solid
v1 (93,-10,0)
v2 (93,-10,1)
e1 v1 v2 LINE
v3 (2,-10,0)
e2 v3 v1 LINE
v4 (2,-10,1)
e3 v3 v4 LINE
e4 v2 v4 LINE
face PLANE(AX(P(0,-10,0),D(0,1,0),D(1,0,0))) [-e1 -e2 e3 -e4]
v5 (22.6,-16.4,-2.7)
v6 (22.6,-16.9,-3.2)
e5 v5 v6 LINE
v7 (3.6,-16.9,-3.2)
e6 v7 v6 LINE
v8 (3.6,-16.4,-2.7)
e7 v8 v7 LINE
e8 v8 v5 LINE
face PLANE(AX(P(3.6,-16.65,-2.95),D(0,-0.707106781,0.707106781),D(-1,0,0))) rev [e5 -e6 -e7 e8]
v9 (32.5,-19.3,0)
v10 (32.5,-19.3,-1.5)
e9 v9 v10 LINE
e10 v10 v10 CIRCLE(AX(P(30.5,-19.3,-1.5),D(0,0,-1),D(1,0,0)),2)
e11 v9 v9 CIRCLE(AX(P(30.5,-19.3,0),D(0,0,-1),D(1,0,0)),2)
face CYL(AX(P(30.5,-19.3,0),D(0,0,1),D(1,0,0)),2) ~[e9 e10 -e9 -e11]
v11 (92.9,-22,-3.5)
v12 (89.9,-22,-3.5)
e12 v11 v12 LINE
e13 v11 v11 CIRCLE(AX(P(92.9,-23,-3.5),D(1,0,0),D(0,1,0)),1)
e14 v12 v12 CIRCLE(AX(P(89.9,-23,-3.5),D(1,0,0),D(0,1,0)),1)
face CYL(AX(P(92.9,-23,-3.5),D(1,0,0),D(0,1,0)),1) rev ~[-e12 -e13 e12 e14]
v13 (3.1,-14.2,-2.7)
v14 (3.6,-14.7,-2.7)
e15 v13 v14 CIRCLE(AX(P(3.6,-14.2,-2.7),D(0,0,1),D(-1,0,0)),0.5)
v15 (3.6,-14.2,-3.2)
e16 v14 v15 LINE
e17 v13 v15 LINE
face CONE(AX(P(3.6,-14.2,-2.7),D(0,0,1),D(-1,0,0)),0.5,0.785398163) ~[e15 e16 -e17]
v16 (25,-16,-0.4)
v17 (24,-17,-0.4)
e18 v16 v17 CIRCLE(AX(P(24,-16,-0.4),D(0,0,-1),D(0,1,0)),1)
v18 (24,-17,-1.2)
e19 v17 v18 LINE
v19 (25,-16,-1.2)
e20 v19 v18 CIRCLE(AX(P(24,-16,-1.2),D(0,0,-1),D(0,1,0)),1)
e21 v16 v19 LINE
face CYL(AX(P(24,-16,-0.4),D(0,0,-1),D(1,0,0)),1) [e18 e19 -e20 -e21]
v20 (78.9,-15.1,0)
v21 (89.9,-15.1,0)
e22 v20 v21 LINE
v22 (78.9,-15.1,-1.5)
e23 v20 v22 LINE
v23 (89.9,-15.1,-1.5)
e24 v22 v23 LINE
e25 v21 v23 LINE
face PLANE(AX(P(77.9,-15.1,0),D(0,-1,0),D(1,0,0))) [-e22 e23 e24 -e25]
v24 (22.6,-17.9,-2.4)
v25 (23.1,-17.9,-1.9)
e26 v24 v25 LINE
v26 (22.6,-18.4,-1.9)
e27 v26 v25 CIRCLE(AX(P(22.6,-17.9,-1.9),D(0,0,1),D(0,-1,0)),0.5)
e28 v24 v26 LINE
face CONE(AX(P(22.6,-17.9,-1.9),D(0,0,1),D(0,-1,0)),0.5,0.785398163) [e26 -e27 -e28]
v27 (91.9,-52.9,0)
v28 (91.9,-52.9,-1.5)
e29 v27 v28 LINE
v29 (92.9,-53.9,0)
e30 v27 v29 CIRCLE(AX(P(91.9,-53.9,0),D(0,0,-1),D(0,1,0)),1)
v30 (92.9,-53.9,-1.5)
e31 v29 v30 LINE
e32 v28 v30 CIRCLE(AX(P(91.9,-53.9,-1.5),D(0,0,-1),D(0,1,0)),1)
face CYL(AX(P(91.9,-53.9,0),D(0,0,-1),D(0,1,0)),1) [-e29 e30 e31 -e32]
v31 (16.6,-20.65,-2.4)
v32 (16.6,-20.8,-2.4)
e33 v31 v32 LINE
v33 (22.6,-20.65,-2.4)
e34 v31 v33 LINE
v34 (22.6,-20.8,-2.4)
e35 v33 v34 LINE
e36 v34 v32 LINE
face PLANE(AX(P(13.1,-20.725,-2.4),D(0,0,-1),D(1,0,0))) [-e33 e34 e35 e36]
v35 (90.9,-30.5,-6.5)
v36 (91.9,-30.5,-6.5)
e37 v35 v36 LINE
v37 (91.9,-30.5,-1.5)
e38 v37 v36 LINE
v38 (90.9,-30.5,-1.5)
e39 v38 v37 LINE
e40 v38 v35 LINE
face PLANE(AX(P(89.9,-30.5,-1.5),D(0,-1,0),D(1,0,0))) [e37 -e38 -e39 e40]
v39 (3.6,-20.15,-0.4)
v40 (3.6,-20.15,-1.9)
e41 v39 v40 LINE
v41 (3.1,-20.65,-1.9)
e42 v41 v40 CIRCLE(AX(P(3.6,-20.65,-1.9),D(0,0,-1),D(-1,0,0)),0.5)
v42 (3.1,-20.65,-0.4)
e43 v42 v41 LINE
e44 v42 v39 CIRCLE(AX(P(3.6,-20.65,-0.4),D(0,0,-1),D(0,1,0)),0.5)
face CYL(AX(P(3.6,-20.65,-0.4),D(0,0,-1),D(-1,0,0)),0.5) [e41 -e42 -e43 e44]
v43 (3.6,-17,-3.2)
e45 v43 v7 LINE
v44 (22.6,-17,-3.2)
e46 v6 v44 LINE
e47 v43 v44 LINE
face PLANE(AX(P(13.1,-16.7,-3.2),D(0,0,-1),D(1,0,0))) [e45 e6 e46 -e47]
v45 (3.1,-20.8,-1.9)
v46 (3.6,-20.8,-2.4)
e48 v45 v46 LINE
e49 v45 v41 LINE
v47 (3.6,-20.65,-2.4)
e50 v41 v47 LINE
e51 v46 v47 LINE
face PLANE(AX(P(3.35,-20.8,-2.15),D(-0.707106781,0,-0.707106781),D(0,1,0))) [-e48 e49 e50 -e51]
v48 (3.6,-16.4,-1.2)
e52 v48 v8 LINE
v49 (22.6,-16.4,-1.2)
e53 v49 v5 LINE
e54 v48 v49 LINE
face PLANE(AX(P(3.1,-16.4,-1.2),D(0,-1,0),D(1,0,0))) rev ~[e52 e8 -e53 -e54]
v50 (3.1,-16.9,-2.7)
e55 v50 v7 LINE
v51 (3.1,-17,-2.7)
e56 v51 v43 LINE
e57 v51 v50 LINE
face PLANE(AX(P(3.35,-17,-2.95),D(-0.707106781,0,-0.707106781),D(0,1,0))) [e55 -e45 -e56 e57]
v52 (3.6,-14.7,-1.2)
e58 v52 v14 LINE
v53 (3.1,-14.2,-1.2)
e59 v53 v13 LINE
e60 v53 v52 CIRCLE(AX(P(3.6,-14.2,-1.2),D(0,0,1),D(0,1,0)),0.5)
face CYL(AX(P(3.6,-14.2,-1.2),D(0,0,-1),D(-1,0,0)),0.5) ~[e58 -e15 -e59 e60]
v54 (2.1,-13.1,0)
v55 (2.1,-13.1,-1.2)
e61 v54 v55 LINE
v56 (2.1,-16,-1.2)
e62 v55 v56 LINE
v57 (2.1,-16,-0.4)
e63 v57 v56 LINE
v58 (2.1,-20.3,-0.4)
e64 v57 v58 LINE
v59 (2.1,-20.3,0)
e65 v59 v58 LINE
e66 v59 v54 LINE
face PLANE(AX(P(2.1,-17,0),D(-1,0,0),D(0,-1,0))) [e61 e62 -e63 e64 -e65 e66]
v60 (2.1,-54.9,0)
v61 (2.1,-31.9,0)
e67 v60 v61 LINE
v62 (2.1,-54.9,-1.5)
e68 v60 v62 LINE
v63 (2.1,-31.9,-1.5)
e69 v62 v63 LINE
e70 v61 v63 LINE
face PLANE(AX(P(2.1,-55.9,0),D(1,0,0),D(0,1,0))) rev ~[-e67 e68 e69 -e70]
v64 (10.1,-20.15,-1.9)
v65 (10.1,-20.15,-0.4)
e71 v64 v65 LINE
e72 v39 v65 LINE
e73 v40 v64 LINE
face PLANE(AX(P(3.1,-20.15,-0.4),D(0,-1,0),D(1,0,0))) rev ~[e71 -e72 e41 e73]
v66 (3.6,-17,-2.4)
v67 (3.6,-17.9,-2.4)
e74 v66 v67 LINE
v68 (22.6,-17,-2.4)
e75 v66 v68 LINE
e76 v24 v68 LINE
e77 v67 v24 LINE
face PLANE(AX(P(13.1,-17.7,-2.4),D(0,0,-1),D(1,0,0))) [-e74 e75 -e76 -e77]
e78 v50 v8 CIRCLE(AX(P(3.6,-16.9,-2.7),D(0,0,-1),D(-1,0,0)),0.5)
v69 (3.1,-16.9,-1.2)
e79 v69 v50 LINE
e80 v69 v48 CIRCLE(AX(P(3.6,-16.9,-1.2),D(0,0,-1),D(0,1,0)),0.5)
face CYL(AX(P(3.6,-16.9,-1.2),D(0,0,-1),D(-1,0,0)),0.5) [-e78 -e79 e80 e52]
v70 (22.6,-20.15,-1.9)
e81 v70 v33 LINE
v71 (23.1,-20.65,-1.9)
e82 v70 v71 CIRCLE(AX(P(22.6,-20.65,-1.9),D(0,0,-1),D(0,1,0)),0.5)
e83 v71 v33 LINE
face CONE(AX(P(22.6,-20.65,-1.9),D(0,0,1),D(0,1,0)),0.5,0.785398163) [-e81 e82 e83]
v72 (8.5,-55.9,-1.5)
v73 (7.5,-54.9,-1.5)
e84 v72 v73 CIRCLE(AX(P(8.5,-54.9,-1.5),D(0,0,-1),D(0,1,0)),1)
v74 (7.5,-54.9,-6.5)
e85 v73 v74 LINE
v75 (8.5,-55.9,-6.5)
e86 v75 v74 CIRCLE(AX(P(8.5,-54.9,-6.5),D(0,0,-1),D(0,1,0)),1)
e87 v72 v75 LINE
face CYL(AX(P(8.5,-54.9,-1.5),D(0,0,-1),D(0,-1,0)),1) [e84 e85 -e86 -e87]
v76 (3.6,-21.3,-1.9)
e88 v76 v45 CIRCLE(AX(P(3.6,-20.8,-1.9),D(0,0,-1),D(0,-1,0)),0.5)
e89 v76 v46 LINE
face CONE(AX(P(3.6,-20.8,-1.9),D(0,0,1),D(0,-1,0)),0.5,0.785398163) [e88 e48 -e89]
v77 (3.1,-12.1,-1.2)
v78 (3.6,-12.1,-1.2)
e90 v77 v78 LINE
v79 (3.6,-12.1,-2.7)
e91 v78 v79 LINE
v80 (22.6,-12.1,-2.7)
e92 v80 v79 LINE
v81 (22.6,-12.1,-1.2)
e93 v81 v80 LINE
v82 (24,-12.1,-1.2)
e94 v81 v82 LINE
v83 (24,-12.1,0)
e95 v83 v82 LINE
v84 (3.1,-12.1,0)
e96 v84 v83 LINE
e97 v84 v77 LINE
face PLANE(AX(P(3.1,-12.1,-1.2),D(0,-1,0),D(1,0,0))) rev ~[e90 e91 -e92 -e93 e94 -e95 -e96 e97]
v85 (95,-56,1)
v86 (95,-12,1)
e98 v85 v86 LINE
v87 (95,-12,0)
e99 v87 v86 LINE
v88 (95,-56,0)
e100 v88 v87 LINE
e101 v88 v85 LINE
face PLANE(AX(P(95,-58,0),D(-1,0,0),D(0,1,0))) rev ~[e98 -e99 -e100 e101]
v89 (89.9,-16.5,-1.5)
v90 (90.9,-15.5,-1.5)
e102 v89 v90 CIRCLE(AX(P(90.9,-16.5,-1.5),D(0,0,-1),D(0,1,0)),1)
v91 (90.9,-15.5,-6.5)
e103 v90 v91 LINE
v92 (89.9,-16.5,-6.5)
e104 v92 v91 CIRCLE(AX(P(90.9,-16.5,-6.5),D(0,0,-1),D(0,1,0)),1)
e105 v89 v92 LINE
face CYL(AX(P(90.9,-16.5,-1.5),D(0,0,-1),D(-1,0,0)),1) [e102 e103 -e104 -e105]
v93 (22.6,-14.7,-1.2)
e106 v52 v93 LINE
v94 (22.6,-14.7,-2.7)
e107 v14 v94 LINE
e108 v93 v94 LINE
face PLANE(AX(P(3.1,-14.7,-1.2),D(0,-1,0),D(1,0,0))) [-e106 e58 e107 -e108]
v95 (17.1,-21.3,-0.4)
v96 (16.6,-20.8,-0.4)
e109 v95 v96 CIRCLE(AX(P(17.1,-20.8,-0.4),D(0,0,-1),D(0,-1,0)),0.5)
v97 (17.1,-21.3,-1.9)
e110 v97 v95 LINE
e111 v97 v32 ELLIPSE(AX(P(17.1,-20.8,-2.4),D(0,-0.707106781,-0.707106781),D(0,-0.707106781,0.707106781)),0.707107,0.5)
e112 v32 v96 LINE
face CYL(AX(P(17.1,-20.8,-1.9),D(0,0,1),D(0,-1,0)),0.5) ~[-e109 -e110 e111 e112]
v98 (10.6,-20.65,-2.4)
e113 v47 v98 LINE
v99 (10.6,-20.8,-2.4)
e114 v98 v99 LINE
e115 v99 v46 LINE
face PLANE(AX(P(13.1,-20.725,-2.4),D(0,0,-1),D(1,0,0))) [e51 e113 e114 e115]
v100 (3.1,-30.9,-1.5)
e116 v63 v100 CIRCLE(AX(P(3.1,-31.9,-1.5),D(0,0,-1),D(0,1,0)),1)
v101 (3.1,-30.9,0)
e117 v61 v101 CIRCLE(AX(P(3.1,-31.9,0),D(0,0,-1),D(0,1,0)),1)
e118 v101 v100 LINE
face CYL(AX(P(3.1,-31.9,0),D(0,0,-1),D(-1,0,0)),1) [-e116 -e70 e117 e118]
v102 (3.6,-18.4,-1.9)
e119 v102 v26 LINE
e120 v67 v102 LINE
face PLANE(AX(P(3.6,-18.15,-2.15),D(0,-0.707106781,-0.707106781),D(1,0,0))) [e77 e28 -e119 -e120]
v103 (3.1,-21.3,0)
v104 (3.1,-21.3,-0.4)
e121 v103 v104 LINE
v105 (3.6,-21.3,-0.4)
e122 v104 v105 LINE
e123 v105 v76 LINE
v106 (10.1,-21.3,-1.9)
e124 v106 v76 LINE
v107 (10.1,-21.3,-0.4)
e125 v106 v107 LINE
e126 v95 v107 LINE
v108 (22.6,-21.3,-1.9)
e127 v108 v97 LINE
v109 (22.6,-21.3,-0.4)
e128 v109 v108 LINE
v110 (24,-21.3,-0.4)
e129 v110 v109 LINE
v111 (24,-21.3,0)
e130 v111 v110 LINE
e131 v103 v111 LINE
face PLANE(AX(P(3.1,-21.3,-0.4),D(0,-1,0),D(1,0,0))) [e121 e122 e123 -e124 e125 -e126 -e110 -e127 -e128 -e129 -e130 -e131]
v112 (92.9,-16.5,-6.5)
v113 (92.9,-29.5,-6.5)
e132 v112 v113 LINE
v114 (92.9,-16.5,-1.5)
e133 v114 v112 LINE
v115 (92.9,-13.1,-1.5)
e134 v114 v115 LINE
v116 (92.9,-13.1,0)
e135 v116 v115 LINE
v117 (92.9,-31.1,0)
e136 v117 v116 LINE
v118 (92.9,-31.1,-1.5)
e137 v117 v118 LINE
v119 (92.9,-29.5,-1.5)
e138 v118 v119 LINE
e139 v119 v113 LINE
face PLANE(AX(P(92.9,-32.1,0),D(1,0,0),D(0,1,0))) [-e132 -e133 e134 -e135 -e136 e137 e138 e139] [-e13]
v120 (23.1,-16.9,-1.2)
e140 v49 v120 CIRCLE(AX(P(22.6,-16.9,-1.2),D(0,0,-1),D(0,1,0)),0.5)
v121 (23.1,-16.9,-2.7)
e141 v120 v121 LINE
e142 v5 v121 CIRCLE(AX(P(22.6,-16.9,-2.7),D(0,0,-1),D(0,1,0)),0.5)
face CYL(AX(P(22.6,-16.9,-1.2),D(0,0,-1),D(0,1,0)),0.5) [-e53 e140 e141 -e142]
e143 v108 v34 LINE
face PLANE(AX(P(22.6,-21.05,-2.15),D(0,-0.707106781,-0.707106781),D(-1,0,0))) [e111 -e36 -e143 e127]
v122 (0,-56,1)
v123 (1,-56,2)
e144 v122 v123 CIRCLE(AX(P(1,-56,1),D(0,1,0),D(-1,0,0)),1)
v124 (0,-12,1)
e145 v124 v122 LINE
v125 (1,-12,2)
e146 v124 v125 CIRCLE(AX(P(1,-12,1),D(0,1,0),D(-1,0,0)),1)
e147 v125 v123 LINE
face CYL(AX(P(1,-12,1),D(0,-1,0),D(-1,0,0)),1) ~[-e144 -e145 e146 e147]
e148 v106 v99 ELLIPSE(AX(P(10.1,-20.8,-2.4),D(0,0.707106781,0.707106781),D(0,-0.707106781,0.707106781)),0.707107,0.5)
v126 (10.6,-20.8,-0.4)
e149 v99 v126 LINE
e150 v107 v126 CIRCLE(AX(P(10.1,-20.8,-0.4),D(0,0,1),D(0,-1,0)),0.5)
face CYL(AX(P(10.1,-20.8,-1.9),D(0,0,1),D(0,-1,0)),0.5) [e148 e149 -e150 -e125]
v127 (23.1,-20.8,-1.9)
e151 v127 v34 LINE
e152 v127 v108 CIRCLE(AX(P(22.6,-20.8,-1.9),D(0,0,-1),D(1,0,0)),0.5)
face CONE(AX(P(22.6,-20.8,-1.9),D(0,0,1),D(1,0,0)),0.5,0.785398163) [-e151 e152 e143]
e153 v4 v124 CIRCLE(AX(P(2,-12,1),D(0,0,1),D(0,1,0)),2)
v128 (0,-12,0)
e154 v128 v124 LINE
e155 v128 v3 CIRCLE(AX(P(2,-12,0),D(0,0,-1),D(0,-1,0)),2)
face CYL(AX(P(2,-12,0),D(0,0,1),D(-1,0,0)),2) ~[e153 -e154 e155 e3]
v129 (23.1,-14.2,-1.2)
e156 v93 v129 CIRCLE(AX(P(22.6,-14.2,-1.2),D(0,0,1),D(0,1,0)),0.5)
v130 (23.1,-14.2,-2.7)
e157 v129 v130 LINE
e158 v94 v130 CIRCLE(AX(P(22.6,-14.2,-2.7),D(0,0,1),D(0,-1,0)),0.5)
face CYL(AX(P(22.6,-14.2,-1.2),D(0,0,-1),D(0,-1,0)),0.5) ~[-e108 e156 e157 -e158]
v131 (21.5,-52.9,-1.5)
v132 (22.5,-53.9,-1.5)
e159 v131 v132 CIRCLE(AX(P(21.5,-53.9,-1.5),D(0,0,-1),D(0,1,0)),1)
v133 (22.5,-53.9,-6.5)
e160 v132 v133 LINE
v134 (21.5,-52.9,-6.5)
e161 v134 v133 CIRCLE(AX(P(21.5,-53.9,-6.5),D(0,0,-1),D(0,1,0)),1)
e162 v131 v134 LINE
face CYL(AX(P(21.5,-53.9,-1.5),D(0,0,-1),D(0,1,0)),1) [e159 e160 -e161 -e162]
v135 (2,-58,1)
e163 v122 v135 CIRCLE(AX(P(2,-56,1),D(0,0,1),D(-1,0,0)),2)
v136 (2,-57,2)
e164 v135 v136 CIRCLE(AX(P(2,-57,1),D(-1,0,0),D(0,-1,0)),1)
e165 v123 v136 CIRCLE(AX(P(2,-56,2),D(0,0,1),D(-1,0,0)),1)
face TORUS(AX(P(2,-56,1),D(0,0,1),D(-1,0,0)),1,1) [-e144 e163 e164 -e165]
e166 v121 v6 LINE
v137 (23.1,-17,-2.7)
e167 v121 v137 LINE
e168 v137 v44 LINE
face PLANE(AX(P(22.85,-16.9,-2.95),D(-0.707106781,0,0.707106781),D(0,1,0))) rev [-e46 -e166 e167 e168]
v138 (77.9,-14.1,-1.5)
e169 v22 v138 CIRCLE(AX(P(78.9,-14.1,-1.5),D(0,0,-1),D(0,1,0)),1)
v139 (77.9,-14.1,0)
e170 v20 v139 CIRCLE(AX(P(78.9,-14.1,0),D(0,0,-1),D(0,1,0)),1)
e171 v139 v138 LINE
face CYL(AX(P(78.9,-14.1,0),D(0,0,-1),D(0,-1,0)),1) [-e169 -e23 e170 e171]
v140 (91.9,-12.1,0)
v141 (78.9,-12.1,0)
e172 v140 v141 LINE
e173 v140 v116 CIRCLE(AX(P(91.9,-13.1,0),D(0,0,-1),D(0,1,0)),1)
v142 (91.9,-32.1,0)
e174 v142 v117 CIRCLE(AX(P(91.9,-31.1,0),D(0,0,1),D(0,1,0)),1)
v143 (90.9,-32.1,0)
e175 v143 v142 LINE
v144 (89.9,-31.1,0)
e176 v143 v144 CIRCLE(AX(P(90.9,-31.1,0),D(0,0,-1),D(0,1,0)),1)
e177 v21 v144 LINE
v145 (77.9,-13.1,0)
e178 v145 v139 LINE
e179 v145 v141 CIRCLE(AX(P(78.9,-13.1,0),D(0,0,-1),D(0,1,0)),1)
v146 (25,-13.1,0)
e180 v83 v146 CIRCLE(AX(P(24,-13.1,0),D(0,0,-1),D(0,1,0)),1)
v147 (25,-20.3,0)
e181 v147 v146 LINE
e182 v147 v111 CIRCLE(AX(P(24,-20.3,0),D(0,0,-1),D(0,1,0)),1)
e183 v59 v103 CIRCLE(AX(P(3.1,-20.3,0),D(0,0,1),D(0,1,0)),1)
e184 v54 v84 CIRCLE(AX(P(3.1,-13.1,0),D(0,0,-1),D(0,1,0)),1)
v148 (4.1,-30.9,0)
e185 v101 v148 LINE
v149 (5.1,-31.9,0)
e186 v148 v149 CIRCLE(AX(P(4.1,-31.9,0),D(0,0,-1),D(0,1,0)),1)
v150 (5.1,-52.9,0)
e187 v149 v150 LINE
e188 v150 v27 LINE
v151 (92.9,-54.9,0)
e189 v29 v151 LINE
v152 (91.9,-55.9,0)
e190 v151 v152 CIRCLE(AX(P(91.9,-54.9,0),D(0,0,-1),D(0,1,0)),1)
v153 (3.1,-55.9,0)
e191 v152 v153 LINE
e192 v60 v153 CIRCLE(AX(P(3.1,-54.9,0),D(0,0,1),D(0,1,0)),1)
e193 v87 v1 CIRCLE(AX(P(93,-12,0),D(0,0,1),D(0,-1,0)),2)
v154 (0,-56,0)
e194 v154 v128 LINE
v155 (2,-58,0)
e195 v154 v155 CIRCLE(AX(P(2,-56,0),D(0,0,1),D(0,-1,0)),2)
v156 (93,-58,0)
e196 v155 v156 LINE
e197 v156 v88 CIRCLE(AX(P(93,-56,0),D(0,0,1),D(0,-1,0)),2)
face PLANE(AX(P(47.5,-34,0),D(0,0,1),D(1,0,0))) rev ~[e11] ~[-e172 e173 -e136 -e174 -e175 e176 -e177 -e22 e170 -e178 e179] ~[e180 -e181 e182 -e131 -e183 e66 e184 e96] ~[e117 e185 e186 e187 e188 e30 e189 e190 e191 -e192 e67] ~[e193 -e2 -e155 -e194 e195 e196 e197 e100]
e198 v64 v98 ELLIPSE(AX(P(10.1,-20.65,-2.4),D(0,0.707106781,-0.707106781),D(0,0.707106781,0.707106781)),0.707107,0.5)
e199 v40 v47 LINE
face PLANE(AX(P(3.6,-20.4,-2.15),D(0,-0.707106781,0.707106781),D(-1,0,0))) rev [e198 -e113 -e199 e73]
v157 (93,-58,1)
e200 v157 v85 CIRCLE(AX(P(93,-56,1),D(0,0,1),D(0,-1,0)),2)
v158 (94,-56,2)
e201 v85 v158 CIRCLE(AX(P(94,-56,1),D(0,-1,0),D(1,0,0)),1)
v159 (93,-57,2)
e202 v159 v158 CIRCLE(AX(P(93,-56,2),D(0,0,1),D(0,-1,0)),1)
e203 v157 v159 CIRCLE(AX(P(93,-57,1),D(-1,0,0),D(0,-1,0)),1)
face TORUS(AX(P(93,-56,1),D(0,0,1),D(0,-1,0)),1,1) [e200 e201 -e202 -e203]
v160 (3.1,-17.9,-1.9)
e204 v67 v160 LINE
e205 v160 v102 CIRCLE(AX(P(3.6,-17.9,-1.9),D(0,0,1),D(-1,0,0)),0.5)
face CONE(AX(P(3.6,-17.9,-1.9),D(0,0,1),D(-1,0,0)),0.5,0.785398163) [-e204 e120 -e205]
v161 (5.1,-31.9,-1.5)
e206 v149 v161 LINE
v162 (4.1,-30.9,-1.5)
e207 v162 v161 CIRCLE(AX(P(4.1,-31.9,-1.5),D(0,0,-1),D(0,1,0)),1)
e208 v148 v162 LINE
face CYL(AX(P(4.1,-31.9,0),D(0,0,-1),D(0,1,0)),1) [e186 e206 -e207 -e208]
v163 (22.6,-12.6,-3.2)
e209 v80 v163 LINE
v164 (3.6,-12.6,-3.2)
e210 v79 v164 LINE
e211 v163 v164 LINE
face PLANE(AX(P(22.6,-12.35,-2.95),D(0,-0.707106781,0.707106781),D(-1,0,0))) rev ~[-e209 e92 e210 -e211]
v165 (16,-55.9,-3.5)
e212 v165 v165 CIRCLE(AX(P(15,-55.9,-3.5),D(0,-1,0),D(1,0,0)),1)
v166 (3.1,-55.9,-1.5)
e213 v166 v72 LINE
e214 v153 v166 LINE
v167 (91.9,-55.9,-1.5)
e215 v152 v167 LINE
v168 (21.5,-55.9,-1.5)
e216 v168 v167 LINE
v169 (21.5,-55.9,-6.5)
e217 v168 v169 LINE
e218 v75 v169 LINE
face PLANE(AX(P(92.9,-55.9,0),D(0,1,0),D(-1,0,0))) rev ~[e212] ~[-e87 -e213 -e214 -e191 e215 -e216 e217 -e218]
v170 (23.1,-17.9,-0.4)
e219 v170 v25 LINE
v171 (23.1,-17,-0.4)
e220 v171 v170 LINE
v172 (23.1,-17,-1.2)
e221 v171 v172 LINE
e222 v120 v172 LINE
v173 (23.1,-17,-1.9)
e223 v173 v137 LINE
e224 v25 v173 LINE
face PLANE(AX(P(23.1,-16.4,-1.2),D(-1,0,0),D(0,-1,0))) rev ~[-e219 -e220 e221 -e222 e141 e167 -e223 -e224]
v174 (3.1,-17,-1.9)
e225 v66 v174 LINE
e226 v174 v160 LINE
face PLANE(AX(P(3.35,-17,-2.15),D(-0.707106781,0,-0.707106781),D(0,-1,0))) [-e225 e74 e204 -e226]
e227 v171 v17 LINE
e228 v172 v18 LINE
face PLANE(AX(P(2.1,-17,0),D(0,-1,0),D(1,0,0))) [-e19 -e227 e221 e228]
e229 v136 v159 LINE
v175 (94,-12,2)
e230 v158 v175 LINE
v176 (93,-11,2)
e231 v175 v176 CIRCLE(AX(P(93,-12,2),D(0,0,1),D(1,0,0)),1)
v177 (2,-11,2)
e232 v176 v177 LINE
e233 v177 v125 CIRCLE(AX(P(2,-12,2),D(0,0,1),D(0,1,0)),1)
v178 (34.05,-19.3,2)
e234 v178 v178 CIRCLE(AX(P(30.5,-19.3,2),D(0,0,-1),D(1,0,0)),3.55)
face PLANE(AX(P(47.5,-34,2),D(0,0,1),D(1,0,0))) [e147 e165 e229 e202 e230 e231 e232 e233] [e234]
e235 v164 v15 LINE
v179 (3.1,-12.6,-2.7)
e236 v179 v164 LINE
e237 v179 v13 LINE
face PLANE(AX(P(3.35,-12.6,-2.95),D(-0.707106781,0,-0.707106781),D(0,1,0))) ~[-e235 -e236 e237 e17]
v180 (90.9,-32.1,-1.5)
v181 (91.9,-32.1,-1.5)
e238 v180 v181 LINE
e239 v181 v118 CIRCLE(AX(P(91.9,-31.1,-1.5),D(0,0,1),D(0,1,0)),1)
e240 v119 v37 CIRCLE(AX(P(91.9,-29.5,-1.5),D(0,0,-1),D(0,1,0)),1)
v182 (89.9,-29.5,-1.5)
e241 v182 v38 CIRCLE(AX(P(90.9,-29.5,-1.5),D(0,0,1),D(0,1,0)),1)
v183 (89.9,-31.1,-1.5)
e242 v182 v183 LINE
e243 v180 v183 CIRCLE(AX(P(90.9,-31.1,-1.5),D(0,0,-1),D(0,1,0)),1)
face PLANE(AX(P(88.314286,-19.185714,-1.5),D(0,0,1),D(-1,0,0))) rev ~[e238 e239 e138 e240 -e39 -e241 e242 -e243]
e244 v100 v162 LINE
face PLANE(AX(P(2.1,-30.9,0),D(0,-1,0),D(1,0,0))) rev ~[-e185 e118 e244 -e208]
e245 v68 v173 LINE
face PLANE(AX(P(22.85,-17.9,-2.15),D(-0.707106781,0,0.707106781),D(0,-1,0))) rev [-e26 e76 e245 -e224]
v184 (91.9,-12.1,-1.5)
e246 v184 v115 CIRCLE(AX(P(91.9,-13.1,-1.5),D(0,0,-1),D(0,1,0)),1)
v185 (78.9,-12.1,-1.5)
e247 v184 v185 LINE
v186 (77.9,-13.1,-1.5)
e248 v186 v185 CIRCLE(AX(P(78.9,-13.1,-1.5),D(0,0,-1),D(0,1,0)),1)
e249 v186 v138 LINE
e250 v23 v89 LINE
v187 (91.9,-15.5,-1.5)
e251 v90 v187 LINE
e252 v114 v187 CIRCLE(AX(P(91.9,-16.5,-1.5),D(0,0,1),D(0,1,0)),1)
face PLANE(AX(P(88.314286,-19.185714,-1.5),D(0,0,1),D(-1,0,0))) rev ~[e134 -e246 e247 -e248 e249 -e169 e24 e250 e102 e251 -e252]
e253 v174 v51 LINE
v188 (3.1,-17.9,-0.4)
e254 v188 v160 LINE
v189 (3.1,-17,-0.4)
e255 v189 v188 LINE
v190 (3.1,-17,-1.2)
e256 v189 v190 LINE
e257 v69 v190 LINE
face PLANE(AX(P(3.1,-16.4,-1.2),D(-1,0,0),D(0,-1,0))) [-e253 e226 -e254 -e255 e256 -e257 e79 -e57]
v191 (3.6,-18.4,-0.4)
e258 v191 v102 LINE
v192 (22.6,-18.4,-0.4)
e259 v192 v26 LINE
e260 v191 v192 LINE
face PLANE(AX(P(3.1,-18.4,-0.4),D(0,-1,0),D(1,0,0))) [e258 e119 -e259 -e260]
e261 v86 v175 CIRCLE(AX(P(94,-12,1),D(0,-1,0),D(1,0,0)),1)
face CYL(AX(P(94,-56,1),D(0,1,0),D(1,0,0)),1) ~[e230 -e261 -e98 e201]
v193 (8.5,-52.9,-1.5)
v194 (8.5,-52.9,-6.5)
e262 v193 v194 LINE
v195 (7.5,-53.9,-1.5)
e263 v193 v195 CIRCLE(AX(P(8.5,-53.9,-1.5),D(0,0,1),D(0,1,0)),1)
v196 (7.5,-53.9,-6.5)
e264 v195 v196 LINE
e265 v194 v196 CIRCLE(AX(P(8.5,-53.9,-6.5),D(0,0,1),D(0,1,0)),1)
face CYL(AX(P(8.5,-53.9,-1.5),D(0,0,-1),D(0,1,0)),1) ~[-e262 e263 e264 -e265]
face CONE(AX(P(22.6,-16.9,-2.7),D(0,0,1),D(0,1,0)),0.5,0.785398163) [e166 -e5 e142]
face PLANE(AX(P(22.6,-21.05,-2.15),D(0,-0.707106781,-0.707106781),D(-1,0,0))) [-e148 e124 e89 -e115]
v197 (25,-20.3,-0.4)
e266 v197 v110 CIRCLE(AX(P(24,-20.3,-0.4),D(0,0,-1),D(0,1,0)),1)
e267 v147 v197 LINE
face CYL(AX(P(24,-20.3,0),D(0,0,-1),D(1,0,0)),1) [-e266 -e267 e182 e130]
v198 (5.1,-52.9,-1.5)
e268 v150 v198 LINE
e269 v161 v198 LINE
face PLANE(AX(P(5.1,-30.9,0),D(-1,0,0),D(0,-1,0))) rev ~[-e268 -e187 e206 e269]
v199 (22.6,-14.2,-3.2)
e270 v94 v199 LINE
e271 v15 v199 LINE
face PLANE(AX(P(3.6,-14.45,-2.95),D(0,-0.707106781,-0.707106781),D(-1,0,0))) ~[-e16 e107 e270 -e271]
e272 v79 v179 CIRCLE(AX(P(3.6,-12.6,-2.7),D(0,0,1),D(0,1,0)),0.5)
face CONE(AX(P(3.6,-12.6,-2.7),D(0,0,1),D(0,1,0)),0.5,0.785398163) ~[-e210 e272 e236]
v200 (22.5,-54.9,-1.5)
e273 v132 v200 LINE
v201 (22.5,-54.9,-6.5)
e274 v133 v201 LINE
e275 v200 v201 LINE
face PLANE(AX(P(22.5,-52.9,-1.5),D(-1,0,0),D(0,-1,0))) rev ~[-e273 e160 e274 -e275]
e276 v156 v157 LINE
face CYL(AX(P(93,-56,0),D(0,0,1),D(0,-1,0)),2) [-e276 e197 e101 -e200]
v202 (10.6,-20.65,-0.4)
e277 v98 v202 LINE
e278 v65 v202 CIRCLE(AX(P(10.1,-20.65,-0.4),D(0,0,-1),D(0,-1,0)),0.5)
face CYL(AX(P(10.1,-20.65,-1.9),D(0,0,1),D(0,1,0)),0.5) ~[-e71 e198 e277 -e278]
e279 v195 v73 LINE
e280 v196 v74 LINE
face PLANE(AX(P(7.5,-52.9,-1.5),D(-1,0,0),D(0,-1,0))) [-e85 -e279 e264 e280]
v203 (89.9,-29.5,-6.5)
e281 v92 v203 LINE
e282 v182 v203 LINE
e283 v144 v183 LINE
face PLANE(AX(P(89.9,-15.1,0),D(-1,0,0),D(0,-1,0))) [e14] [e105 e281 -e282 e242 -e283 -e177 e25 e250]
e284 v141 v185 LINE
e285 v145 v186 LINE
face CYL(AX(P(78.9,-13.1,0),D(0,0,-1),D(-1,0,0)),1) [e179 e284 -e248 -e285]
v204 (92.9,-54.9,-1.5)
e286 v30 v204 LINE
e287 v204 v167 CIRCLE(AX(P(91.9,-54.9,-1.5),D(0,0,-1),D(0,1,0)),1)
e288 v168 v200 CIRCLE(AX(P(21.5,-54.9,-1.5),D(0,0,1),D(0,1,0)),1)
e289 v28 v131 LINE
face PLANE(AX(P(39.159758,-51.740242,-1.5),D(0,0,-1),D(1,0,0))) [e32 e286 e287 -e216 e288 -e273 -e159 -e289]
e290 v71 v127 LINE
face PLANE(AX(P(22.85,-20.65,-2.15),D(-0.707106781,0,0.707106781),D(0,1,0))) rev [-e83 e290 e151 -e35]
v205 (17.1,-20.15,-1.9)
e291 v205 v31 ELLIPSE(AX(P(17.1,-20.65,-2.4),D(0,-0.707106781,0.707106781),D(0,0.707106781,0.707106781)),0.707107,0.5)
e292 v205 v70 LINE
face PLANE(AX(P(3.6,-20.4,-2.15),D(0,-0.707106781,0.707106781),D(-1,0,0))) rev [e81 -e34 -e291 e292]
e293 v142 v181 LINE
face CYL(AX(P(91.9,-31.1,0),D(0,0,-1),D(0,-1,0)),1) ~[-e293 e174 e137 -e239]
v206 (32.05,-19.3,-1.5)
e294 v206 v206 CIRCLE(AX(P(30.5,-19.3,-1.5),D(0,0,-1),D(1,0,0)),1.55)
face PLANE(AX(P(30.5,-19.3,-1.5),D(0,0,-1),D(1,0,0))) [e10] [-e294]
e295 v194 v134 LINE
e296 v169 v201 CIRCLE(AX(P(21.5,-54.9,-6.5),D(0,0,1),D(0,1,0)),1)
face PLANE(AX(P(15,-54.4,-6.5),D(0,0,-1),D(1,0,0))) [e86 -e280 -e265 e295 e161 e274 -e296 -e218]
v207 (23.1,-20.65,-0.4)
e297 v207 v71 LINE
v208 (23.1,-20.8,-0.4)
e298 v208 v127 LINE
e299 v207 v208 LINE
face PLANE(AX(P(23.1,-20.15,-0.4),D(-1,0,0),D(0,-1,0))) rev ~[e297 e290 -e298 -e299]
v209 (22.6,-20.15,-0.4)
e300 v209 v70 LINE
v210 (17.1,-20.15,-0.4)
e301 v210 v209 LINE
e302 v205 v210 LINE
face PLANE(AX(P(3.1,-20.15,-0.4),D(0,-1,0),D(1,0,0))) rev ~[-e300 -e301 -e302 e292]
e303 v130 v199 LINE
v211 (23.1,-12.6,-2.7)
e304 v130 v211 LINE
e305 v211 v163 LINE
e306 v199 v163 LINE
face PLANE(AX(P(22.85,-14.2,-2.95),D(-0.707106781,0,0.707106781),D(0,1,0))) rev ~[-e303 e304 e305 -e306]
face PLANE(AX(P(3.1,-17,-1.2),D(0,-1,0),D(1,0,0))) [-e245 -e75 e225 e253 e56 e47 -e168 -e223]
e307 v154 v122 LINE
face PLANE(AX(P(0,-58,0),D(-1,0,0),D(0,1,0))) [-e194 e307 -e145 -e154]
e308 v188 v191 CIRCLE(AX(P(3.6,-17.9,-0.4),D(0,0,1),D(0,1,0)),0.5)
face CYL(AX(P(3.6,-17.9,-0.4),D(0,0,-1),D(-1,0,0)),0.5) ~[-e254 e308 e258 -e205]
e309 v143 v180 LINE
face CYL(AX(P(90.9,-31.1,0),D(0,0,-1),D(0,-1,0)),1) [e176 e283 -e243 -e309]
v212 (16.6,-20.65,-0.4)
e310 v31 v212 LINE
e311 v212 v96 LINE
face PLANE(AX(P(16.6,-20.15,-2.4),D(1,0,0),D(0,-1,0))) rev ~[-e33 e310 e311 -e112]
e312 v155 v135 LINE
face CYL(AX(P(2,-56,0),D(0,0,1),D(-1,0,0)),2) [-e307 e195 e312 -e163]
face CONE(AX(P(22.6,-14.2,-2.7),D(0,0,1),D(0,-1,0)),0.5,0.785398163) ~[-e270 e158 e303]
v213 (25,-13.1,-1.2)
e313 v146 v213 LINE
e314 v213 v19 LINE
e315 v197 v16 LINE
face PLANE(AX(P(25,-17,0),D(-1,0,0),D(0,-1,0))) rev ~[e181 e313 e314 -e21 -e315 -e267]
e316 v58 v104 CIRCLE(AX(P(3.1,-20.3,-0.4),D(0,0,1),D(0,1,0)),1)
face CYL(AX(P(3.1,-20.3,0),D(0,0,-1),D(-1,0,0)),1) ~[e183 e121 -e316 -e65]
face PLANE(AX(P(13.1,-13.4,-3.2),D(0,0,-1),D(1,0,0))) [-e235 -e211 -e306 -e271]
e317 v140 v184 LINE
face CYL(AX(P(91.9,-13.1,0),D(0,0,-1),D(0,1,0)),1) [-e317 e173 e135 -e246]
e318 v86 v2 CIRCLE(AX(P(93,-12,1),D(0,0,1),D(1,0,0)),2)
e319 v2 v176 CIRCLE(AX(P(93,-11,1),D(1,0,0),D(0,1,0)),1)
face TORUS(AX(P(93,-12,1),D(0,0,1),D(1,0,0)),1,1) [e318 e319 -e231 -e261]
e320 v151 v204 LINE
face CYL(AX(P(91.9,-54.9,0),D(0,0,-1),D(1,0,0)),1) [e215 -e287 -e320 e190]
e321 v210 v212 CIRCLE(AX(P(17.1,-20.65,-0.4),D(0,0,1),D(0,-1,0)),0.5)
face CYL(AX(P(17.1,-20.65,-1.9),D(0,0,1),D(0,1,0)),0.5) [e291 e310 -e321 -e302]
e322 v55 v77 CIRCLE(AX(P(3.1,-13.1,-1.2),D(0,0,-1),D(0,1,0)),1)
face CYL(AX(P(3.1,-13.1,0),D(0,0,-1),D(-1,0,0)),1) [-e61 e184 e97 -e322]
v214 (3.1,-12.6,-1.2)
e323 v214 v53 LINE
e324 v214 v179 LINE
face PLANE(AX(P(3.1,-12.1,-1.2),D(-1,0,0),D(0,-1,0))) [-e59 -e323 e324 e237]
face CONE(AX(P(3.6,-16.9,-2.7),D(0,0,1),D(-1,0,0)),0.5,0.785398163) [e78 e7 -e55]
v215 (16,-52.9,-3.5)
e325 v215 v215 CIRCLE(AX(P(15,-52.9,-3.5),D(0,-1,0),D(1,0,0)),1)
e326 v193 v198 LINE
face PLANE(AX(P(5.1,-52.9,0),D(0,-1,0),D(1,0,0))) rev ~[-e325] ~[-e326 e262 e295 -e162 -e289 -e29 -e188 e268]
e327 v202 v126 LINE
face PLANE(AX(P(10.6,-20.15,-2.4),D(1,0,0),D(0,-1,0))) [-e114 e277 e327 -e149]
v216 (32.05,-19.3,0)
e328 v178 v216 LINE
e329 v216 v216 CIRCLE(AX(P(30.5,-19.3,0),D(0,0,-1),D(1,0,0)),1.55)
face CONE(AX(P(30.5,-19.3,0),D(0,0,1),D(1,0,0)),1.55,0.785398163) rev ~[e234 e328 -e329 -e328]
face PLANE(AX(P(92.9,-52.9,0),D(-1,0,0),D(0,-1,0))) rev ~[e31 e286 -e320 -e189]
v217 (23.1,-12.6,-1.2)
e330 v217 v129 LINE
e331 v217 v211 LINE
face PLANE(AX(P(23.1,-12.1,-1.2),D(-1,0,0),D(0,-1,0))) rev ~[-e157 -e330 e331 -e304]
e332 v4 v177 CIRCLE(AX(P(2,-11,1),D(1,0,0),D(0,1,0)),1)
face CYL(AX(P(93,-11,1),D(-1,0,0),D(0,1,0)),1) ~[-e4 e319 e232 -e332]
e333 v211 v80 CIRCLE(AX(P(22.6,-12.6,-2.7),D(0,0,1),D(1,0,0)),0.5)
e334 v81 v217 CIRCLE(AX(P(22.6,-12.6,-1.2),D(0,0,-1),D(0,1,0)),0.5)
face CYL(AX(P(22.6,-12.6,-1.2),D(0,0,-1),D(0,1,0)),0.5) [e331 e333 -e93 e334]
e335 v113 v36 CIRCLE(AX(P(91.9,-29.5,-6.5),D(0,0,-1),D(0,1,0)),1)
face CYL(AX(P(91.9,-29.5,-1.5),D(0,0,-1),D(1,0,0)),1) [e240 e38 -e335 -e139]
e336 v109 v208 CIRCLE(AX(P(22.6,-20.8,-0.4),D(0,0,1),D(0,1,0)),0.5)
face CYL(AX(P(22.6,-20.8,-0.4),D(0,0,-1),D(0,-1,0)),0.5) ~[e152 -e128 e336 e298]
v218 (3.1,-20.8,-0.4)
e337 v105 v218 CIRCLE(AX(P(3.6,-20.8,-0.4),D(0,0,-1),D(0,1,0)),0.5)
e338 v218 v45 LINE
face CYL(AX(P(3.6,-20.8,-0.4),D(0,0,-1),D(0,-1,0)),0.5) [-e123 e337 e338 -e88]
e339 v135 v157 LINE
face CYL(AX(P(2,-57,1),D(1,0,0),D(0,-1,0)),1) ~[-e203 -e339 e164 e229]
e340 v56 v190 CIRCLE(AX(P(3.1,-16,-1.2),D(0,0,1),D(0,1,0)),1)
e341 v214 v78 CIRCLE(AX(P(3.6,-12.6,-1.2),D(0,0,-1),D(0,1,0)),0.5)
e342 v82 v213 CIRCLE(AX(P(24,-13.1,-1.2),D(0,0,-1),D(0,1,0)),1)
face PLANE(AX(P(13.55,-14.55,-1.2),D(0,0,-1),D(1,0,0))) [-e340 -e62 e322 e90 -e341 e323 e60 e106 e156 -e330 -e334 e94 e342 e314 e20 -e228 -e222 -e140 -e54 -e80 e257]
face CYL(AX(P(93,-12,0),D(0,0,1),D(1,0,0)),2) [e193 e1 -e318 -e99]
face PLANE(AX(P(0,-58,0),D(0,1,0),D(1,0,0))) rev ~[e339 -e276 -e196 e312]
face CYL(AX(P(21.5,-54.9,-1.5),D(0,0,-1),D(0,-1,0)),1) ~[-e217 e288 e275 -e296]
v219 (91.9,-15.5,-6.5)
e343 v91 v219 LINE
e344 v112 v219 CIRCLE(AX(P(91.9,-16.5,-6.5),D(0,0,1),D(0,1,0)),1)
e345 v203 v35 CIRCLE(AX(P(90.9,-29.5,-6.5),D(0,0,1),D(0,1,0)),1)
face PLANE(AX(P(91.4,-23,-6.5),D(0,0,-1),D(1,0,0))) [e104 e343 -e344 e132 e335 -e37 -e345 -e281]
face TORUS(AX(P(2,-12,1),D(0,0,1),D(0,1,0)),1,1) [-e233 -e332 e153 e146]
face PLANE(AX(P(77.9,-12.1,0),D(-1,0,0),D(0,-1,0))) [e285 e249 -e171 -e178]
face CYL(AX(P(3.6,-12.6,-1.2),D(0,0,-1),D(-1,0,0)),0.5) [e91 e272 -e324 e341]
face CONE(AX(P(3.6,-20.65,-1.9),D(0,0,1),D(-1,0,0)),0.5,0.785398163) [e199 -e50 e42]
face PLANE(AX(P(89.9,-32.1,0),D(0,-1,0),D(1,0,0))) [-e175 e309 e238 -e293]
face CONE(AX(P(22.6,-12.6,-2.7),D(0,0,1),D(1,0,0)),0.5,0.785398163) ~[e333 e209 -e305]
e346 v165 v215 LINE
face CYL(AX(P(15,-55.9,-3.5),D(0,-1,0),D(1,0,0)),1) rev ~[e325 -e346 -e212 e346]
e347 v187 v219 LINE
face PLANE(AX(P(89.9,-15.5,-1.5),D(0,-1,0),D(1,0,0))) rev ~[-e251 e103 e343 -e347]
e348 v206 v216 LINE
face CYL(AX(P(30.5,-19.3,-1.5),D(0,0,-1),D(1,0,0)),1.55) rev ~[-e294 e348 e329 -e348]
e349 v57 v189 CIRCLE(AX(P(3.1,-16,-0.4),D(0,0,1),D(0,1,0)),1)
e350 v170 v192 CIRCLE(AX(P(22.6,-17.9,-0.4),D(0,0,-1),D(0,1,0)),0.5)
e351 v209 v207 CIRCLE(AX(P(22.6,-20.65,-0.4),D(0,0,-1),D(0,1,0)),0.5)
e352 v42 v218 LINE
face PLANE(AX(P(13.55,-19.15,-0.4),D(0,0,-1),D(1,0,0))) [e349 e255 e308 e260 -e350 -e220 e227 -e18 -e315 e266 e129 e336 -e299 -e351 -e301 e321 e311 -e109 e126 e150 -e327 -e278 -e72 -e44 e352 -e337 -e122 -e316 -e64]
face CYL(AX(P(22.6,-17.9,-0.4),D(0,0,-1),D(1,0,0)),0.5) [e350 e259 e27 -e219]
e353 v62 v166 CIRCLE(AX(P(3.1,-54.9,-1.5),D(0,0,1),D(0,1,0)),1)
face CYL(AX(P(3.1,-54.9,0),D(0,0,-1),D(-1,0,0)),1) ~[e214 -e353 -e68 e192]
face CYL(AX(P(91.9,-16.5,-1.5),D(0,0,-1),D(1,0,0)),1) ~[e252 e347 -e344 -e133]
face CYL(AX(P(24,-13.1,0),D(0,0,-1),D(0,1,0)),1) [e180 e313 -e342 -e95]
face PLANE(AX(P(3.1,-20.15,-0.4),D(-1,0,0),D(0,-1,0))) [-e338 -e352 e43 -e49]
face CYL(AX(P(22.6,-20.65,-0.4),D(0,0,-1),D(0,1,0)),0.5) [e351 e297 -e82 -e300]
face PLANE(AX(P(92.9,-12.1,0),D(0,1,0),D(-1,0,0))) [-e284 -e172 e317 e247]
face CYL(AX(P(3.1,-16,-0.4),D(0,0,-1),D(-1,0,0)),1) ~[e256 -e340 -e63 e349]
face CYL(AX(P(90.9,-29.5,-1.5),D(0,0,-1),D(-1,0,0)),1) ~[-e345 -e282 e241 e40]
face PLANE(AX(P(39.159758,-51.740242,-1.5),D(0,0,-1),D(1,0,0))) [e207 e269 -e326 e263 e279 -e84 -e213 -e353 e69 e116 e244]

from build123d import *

# Parameters (mm, degrees)
SKETCH027_W     = 95
SKETCH027_H     = 48
PAD011_DEPTH    = 2
SKETCH028_R     = 2
PAD012_DEPTH    = 1.5
SKETCH032_W     = 22.9
SKETCH032_H     = 4.9
PAD013_DEPTH    = 1.2
SKETCH033_W     = 22.9
SKETCH033_H     = 4.3
PAD014_DEPTH    = 0.4
SKETCH034_W     = 15
SKETCH034_H     = 3
SKETCH034_W_2   = 3
SKETCH034_H_2   = 15
PAD015_DEPTH    = 5
SKETCH035_R     = 1
POCKET015_DEPTH = 5
SKETCH036_R     = 1
POCKET016_DEPTH = 5
SKETCH037_R     = 1.55
POCKET017_DEPTH = 7
FILLET_R        = 2
FILLET001_R     = 1
CHAMFER_SIZE    = 2
FILLET002_R     = 1
SKETCH047_W     = 20
SKETCH047_H     = 1.15
SKETCH047_H_2   = 1.4
PAD020_DEPTH    = 2
SKETCH048_W     = 20
SKETCH048_H     = 2.6
SKETCH048_H_2   = 0.6
PAD021_DEPTH    = 2
FILLET012_R     = 0.5
CHAMFER005_SIZE = 0.5
CHAMFER006_SIZE = 0.5
SKETCH051_W     = 6
SKETCH051_H     = 1.15
POCKET022_DEPTH = 2
FILLET015_R     = 0.5


with BuildPart() as part:
    # Sketch027 → Pad011 (new body)
    with BuildSketch(Plane.XY):
        with Locations((47.5, -34)):
            Rectangle(SKETCH027_W, SKETCH027_H)
    extrude(amount=PAD011_DEPTH)

    # Sketch028 (on Face5 of Pad011) → Pad012 (join)
    with BuildSketch(Plane(origin=(0, 0, 0), x_dir=(1, 0, 0), z_dir=(0, 0, -1))):
        with Locations((30.5, 19.3)):
            Circle(SKETCH028_R)
        Polygon((2.1, 30.9), (5.1, 30.9), (5.1, 52.9), (92.9, 52.9), (92.9, 55.9), (2.1, 55.9), align=None)
        Polygon((89.9, 32.1), (92.9, 32.1), (92.9, 12.1), (77.9, 12.1), (77.9, 15.1), (89.9, 15.1), align=None)
    extrude(amount=PAD012_DEPTH)

    # Sketch032 (on Face4 of Pad012) → Pad013 (join)
    with BuildSketch(Plane(origin=(0, 0, 0), x_dir=(1, 0, 0), z_dir=(0, 0, -1))):
        with Locations((13.55, 14.55)):
            Rectangle(SKETCH032_W, SKETCH032_H)
    extrude(amount=PAD013_DEPTH)

    # Sketch033 (on Face4 of Pad013) → Pad014 (join)
    with BuildSketch(Plane(origin=(0, 0, 0), x_dir=(1, 0, 0), z_dir=(0, 0, -1))):
        with Locations((13.55, 19.15)):
            Rectangle(SKETCH033_W, SKETCH033_H)
    extrude(amount=PAD014_DEPTH)

    # Sketch034 (on Face26 of Pad014) → Pad015 (join)
    with BuildSketch(Plane(origin=(0, 0, -1.5), x_dir=(1, 0, 0), z_dir=(0, 0, -1))):
        with Locations((15, 54.4)):
            Rectangle(SKETCH034_W, SKETCH034_H)
        with Locations((91.4, 23)):
            Rectangle(SKETCH034_W_2, SKETCH034_H_2)
    extrude(amount=PAD015_DEPTH)

    # Sketch035 (on Face33 of Pad015) → Pocket015 (cut)
    with BuildSketch(Plane.YZ.offset(92.9)):
        with Locations((-23, -3.5)):
            Circle(SKETCH035_R)
    extrude(amount=-POCKET015_DEPTH, mode=Mode.SUBTRACT)

    # Sketch036 (on Face28 of Pocket015) → Pocket016 (cut)
    with BuildSketch(Plane.XZ.offset(55.9)):
        with Locations((15, -3.5)):
            Circle(SKETCH036_R)
    extrude(amount=-POCKET016_DEPTH, mode=Mode.SUBTRACT)

    # Sketch037 (on Face34 of Pocket016) → Pocket017 (cut)
    with BuildSketch(Plane(origin=(0, 0, -1.5), x_dir=(1, 0, 0), z_dir=(0, 0, -1))):
        with Locations((30.5, 19.3)):
            Circle(SKETCH037_R)
    extrude(amount=-POCKET017_DEPTH, mode=Mode.SUBTRACT)

    # Fillet
    fillet_edges = [part.edges().sort_by_distance(p)[0] for p in [
        (0, -58, 1),
        (0, -10, 1),
        (95, -58, 1),
        (95, -10, 1),
    ]]
    fillet(fillet_edges, radius=FILLET_R)

    # Fillet001
    fillet001_edges = [part.edges().sort_by_distance(p)[0] for p in [
        (47.5, -58, 2),
    ]]
    fillet(fillet001_edges, radius=FILLET001_R)

    # Chamfer
    chamfer_edges = [part.edges().sort_by_distance(p)[0] for p in [
        (28.95, -19.3, 2),
    ]]
    chamfer(chamfer_edges, length=CHAMFER_SIZE)

    # Fillet002
    fillet002_edges = [part.edges().sort_by_distance(p)[0] for p in [
        (2.1, -30.9, -0.75),
        (5.1, -30.9, -0.75),
        (2.1, -21.3, -0.2),
        (2.1, -17, -0.8),
        (2.1, -12.1, -0.6),
        (25, -12.1, -0.6),
        (25, -17, -0.8),
        (25, -21.3, -0.2),
        (92.9, -55.9, -0.75),
        (92.9, -52.9, -0.75),
        (92.9, -32.1, -0.75),
        (92.9, -12.1, -0.75),
        (77.9, -12.1, -0.75),
        (92.9, -15.5, -4),
        (89.9, -15.5, -4),
        (92.9, -30.5, -4),
        (89.9, -32.1, -0.75),
        (89.9, -30.5, -4),
        (77.9, -15.1, -0.75),
        (22.5, -55.9, -4),
        (7.5, -55.9, -4),
        (2.1, -55.9, -0.75),
        (7.5, -52.9, -4),
        (22.5, -52.9, -4),
    ]]
    fillet(fillet002_edges, radius=FILLET002_R)

    # Sketch047 (on Face61 of Fillet002) → Pad020 (join)
    with BuildSketch(Plane(origin=(0, 0, -0.4), x_dir=(1, 0, 0), z_dir=(0, 0, -1))):
        with Locations((13.1, 20.725)):
            Rectangle(SKETCH047_W, SKETCH047_H)
        with Locations((13.1, 17.7)):
            Rectangle(SKETCH047_W, SKETCH047_H_2)
    extrude(amount=PAD020_DEPTH)

    # Sketch048 (on Face60 of Pad020) → Pad021 (join)
    with BuildSketch(Plane(origin=(0, 0, -1.2), x_dir=(1, 0, 0), z_dir=(0, 0, -1))):
        with Locations((13.1, 13.4)):
            Rectangle(SKETCH048_W, SKETCH048_H)
        with Locations((13.1, 16.7)):
            Rectangle(SKETCH048_W, SKETCH048_H_2)
    extrude(amount=PAD021_DEPTH)

    # Fillet012
    fillet012_edges = [part.edges().sort_by_distance(p)[0] for p in [
        (3.1, -21.3, -1.4),
        (3.1, -20.15, -1.4),
        (3.1, -18.4, -1.4),
        (23.1, -21.3, -1.4),
        (23.1, -20.15, -1.4),
        (23.1, -18.4, -1.4),
        (23.1, -14.7, -2.2),
        (23.1, -16.4, -2.2),
        (3.1, -16.4, -2.2),
        (3.1, -14.7, -2.2),
        (23.1, -12.1, -2.2),
        (3.1, -12.1, -2.2),
    ]]
    fillet(fillet012_edges, radius=FILLET012_R)

    # Chamfer005
    chamfer005_edges = [part.edges().sort_by_distance(p)[0] for p in [
        (13.1, -16.4, -3.2),
    ]]
    chamfer(chamfer005_edges, length=CHAMFER005_SIZE)

    # Chamfer006
    chamfer006_edges = [part.edges().sort_by_distance(p)[0] for p in [
        (13.1, -14.7, -3.2),
        (13.1, -18.4, -2.4),
        (13.1, -20.15, -2.4),
    ]]
    chamfer(chamfer006_edges, length=CHAMFER006_SIZE)

    # Sketch051 (on Face70 of Chamfer006) → Pocket022 (cut)
    with BuildSketch(Plane(origin=(0, 0, -2.4), x_dir=(1, 0, 0), z_dir=(0, 0, -1))):
        with Locations((13.6, 20.725)):
            Rectangle(SKETCH051_W, SKETCH051_H)
    extrude(amount=-POCKET022_DEPTH, mode=Mode.SUBTRACT)

    # Fillet015
    fillet015_edges = [part.edges().sort_by_distance(p)[0] for p in [
        (10.6, -20.15, -1.15),
        (10.6, -21.3, -1.15),
        (16.6, -20.15, -1.15),
        (16.6, -21.3, -1.15),
    ]]
    fillet(fillet015_edges, radius=FILLET015_R)


solid = part.part
